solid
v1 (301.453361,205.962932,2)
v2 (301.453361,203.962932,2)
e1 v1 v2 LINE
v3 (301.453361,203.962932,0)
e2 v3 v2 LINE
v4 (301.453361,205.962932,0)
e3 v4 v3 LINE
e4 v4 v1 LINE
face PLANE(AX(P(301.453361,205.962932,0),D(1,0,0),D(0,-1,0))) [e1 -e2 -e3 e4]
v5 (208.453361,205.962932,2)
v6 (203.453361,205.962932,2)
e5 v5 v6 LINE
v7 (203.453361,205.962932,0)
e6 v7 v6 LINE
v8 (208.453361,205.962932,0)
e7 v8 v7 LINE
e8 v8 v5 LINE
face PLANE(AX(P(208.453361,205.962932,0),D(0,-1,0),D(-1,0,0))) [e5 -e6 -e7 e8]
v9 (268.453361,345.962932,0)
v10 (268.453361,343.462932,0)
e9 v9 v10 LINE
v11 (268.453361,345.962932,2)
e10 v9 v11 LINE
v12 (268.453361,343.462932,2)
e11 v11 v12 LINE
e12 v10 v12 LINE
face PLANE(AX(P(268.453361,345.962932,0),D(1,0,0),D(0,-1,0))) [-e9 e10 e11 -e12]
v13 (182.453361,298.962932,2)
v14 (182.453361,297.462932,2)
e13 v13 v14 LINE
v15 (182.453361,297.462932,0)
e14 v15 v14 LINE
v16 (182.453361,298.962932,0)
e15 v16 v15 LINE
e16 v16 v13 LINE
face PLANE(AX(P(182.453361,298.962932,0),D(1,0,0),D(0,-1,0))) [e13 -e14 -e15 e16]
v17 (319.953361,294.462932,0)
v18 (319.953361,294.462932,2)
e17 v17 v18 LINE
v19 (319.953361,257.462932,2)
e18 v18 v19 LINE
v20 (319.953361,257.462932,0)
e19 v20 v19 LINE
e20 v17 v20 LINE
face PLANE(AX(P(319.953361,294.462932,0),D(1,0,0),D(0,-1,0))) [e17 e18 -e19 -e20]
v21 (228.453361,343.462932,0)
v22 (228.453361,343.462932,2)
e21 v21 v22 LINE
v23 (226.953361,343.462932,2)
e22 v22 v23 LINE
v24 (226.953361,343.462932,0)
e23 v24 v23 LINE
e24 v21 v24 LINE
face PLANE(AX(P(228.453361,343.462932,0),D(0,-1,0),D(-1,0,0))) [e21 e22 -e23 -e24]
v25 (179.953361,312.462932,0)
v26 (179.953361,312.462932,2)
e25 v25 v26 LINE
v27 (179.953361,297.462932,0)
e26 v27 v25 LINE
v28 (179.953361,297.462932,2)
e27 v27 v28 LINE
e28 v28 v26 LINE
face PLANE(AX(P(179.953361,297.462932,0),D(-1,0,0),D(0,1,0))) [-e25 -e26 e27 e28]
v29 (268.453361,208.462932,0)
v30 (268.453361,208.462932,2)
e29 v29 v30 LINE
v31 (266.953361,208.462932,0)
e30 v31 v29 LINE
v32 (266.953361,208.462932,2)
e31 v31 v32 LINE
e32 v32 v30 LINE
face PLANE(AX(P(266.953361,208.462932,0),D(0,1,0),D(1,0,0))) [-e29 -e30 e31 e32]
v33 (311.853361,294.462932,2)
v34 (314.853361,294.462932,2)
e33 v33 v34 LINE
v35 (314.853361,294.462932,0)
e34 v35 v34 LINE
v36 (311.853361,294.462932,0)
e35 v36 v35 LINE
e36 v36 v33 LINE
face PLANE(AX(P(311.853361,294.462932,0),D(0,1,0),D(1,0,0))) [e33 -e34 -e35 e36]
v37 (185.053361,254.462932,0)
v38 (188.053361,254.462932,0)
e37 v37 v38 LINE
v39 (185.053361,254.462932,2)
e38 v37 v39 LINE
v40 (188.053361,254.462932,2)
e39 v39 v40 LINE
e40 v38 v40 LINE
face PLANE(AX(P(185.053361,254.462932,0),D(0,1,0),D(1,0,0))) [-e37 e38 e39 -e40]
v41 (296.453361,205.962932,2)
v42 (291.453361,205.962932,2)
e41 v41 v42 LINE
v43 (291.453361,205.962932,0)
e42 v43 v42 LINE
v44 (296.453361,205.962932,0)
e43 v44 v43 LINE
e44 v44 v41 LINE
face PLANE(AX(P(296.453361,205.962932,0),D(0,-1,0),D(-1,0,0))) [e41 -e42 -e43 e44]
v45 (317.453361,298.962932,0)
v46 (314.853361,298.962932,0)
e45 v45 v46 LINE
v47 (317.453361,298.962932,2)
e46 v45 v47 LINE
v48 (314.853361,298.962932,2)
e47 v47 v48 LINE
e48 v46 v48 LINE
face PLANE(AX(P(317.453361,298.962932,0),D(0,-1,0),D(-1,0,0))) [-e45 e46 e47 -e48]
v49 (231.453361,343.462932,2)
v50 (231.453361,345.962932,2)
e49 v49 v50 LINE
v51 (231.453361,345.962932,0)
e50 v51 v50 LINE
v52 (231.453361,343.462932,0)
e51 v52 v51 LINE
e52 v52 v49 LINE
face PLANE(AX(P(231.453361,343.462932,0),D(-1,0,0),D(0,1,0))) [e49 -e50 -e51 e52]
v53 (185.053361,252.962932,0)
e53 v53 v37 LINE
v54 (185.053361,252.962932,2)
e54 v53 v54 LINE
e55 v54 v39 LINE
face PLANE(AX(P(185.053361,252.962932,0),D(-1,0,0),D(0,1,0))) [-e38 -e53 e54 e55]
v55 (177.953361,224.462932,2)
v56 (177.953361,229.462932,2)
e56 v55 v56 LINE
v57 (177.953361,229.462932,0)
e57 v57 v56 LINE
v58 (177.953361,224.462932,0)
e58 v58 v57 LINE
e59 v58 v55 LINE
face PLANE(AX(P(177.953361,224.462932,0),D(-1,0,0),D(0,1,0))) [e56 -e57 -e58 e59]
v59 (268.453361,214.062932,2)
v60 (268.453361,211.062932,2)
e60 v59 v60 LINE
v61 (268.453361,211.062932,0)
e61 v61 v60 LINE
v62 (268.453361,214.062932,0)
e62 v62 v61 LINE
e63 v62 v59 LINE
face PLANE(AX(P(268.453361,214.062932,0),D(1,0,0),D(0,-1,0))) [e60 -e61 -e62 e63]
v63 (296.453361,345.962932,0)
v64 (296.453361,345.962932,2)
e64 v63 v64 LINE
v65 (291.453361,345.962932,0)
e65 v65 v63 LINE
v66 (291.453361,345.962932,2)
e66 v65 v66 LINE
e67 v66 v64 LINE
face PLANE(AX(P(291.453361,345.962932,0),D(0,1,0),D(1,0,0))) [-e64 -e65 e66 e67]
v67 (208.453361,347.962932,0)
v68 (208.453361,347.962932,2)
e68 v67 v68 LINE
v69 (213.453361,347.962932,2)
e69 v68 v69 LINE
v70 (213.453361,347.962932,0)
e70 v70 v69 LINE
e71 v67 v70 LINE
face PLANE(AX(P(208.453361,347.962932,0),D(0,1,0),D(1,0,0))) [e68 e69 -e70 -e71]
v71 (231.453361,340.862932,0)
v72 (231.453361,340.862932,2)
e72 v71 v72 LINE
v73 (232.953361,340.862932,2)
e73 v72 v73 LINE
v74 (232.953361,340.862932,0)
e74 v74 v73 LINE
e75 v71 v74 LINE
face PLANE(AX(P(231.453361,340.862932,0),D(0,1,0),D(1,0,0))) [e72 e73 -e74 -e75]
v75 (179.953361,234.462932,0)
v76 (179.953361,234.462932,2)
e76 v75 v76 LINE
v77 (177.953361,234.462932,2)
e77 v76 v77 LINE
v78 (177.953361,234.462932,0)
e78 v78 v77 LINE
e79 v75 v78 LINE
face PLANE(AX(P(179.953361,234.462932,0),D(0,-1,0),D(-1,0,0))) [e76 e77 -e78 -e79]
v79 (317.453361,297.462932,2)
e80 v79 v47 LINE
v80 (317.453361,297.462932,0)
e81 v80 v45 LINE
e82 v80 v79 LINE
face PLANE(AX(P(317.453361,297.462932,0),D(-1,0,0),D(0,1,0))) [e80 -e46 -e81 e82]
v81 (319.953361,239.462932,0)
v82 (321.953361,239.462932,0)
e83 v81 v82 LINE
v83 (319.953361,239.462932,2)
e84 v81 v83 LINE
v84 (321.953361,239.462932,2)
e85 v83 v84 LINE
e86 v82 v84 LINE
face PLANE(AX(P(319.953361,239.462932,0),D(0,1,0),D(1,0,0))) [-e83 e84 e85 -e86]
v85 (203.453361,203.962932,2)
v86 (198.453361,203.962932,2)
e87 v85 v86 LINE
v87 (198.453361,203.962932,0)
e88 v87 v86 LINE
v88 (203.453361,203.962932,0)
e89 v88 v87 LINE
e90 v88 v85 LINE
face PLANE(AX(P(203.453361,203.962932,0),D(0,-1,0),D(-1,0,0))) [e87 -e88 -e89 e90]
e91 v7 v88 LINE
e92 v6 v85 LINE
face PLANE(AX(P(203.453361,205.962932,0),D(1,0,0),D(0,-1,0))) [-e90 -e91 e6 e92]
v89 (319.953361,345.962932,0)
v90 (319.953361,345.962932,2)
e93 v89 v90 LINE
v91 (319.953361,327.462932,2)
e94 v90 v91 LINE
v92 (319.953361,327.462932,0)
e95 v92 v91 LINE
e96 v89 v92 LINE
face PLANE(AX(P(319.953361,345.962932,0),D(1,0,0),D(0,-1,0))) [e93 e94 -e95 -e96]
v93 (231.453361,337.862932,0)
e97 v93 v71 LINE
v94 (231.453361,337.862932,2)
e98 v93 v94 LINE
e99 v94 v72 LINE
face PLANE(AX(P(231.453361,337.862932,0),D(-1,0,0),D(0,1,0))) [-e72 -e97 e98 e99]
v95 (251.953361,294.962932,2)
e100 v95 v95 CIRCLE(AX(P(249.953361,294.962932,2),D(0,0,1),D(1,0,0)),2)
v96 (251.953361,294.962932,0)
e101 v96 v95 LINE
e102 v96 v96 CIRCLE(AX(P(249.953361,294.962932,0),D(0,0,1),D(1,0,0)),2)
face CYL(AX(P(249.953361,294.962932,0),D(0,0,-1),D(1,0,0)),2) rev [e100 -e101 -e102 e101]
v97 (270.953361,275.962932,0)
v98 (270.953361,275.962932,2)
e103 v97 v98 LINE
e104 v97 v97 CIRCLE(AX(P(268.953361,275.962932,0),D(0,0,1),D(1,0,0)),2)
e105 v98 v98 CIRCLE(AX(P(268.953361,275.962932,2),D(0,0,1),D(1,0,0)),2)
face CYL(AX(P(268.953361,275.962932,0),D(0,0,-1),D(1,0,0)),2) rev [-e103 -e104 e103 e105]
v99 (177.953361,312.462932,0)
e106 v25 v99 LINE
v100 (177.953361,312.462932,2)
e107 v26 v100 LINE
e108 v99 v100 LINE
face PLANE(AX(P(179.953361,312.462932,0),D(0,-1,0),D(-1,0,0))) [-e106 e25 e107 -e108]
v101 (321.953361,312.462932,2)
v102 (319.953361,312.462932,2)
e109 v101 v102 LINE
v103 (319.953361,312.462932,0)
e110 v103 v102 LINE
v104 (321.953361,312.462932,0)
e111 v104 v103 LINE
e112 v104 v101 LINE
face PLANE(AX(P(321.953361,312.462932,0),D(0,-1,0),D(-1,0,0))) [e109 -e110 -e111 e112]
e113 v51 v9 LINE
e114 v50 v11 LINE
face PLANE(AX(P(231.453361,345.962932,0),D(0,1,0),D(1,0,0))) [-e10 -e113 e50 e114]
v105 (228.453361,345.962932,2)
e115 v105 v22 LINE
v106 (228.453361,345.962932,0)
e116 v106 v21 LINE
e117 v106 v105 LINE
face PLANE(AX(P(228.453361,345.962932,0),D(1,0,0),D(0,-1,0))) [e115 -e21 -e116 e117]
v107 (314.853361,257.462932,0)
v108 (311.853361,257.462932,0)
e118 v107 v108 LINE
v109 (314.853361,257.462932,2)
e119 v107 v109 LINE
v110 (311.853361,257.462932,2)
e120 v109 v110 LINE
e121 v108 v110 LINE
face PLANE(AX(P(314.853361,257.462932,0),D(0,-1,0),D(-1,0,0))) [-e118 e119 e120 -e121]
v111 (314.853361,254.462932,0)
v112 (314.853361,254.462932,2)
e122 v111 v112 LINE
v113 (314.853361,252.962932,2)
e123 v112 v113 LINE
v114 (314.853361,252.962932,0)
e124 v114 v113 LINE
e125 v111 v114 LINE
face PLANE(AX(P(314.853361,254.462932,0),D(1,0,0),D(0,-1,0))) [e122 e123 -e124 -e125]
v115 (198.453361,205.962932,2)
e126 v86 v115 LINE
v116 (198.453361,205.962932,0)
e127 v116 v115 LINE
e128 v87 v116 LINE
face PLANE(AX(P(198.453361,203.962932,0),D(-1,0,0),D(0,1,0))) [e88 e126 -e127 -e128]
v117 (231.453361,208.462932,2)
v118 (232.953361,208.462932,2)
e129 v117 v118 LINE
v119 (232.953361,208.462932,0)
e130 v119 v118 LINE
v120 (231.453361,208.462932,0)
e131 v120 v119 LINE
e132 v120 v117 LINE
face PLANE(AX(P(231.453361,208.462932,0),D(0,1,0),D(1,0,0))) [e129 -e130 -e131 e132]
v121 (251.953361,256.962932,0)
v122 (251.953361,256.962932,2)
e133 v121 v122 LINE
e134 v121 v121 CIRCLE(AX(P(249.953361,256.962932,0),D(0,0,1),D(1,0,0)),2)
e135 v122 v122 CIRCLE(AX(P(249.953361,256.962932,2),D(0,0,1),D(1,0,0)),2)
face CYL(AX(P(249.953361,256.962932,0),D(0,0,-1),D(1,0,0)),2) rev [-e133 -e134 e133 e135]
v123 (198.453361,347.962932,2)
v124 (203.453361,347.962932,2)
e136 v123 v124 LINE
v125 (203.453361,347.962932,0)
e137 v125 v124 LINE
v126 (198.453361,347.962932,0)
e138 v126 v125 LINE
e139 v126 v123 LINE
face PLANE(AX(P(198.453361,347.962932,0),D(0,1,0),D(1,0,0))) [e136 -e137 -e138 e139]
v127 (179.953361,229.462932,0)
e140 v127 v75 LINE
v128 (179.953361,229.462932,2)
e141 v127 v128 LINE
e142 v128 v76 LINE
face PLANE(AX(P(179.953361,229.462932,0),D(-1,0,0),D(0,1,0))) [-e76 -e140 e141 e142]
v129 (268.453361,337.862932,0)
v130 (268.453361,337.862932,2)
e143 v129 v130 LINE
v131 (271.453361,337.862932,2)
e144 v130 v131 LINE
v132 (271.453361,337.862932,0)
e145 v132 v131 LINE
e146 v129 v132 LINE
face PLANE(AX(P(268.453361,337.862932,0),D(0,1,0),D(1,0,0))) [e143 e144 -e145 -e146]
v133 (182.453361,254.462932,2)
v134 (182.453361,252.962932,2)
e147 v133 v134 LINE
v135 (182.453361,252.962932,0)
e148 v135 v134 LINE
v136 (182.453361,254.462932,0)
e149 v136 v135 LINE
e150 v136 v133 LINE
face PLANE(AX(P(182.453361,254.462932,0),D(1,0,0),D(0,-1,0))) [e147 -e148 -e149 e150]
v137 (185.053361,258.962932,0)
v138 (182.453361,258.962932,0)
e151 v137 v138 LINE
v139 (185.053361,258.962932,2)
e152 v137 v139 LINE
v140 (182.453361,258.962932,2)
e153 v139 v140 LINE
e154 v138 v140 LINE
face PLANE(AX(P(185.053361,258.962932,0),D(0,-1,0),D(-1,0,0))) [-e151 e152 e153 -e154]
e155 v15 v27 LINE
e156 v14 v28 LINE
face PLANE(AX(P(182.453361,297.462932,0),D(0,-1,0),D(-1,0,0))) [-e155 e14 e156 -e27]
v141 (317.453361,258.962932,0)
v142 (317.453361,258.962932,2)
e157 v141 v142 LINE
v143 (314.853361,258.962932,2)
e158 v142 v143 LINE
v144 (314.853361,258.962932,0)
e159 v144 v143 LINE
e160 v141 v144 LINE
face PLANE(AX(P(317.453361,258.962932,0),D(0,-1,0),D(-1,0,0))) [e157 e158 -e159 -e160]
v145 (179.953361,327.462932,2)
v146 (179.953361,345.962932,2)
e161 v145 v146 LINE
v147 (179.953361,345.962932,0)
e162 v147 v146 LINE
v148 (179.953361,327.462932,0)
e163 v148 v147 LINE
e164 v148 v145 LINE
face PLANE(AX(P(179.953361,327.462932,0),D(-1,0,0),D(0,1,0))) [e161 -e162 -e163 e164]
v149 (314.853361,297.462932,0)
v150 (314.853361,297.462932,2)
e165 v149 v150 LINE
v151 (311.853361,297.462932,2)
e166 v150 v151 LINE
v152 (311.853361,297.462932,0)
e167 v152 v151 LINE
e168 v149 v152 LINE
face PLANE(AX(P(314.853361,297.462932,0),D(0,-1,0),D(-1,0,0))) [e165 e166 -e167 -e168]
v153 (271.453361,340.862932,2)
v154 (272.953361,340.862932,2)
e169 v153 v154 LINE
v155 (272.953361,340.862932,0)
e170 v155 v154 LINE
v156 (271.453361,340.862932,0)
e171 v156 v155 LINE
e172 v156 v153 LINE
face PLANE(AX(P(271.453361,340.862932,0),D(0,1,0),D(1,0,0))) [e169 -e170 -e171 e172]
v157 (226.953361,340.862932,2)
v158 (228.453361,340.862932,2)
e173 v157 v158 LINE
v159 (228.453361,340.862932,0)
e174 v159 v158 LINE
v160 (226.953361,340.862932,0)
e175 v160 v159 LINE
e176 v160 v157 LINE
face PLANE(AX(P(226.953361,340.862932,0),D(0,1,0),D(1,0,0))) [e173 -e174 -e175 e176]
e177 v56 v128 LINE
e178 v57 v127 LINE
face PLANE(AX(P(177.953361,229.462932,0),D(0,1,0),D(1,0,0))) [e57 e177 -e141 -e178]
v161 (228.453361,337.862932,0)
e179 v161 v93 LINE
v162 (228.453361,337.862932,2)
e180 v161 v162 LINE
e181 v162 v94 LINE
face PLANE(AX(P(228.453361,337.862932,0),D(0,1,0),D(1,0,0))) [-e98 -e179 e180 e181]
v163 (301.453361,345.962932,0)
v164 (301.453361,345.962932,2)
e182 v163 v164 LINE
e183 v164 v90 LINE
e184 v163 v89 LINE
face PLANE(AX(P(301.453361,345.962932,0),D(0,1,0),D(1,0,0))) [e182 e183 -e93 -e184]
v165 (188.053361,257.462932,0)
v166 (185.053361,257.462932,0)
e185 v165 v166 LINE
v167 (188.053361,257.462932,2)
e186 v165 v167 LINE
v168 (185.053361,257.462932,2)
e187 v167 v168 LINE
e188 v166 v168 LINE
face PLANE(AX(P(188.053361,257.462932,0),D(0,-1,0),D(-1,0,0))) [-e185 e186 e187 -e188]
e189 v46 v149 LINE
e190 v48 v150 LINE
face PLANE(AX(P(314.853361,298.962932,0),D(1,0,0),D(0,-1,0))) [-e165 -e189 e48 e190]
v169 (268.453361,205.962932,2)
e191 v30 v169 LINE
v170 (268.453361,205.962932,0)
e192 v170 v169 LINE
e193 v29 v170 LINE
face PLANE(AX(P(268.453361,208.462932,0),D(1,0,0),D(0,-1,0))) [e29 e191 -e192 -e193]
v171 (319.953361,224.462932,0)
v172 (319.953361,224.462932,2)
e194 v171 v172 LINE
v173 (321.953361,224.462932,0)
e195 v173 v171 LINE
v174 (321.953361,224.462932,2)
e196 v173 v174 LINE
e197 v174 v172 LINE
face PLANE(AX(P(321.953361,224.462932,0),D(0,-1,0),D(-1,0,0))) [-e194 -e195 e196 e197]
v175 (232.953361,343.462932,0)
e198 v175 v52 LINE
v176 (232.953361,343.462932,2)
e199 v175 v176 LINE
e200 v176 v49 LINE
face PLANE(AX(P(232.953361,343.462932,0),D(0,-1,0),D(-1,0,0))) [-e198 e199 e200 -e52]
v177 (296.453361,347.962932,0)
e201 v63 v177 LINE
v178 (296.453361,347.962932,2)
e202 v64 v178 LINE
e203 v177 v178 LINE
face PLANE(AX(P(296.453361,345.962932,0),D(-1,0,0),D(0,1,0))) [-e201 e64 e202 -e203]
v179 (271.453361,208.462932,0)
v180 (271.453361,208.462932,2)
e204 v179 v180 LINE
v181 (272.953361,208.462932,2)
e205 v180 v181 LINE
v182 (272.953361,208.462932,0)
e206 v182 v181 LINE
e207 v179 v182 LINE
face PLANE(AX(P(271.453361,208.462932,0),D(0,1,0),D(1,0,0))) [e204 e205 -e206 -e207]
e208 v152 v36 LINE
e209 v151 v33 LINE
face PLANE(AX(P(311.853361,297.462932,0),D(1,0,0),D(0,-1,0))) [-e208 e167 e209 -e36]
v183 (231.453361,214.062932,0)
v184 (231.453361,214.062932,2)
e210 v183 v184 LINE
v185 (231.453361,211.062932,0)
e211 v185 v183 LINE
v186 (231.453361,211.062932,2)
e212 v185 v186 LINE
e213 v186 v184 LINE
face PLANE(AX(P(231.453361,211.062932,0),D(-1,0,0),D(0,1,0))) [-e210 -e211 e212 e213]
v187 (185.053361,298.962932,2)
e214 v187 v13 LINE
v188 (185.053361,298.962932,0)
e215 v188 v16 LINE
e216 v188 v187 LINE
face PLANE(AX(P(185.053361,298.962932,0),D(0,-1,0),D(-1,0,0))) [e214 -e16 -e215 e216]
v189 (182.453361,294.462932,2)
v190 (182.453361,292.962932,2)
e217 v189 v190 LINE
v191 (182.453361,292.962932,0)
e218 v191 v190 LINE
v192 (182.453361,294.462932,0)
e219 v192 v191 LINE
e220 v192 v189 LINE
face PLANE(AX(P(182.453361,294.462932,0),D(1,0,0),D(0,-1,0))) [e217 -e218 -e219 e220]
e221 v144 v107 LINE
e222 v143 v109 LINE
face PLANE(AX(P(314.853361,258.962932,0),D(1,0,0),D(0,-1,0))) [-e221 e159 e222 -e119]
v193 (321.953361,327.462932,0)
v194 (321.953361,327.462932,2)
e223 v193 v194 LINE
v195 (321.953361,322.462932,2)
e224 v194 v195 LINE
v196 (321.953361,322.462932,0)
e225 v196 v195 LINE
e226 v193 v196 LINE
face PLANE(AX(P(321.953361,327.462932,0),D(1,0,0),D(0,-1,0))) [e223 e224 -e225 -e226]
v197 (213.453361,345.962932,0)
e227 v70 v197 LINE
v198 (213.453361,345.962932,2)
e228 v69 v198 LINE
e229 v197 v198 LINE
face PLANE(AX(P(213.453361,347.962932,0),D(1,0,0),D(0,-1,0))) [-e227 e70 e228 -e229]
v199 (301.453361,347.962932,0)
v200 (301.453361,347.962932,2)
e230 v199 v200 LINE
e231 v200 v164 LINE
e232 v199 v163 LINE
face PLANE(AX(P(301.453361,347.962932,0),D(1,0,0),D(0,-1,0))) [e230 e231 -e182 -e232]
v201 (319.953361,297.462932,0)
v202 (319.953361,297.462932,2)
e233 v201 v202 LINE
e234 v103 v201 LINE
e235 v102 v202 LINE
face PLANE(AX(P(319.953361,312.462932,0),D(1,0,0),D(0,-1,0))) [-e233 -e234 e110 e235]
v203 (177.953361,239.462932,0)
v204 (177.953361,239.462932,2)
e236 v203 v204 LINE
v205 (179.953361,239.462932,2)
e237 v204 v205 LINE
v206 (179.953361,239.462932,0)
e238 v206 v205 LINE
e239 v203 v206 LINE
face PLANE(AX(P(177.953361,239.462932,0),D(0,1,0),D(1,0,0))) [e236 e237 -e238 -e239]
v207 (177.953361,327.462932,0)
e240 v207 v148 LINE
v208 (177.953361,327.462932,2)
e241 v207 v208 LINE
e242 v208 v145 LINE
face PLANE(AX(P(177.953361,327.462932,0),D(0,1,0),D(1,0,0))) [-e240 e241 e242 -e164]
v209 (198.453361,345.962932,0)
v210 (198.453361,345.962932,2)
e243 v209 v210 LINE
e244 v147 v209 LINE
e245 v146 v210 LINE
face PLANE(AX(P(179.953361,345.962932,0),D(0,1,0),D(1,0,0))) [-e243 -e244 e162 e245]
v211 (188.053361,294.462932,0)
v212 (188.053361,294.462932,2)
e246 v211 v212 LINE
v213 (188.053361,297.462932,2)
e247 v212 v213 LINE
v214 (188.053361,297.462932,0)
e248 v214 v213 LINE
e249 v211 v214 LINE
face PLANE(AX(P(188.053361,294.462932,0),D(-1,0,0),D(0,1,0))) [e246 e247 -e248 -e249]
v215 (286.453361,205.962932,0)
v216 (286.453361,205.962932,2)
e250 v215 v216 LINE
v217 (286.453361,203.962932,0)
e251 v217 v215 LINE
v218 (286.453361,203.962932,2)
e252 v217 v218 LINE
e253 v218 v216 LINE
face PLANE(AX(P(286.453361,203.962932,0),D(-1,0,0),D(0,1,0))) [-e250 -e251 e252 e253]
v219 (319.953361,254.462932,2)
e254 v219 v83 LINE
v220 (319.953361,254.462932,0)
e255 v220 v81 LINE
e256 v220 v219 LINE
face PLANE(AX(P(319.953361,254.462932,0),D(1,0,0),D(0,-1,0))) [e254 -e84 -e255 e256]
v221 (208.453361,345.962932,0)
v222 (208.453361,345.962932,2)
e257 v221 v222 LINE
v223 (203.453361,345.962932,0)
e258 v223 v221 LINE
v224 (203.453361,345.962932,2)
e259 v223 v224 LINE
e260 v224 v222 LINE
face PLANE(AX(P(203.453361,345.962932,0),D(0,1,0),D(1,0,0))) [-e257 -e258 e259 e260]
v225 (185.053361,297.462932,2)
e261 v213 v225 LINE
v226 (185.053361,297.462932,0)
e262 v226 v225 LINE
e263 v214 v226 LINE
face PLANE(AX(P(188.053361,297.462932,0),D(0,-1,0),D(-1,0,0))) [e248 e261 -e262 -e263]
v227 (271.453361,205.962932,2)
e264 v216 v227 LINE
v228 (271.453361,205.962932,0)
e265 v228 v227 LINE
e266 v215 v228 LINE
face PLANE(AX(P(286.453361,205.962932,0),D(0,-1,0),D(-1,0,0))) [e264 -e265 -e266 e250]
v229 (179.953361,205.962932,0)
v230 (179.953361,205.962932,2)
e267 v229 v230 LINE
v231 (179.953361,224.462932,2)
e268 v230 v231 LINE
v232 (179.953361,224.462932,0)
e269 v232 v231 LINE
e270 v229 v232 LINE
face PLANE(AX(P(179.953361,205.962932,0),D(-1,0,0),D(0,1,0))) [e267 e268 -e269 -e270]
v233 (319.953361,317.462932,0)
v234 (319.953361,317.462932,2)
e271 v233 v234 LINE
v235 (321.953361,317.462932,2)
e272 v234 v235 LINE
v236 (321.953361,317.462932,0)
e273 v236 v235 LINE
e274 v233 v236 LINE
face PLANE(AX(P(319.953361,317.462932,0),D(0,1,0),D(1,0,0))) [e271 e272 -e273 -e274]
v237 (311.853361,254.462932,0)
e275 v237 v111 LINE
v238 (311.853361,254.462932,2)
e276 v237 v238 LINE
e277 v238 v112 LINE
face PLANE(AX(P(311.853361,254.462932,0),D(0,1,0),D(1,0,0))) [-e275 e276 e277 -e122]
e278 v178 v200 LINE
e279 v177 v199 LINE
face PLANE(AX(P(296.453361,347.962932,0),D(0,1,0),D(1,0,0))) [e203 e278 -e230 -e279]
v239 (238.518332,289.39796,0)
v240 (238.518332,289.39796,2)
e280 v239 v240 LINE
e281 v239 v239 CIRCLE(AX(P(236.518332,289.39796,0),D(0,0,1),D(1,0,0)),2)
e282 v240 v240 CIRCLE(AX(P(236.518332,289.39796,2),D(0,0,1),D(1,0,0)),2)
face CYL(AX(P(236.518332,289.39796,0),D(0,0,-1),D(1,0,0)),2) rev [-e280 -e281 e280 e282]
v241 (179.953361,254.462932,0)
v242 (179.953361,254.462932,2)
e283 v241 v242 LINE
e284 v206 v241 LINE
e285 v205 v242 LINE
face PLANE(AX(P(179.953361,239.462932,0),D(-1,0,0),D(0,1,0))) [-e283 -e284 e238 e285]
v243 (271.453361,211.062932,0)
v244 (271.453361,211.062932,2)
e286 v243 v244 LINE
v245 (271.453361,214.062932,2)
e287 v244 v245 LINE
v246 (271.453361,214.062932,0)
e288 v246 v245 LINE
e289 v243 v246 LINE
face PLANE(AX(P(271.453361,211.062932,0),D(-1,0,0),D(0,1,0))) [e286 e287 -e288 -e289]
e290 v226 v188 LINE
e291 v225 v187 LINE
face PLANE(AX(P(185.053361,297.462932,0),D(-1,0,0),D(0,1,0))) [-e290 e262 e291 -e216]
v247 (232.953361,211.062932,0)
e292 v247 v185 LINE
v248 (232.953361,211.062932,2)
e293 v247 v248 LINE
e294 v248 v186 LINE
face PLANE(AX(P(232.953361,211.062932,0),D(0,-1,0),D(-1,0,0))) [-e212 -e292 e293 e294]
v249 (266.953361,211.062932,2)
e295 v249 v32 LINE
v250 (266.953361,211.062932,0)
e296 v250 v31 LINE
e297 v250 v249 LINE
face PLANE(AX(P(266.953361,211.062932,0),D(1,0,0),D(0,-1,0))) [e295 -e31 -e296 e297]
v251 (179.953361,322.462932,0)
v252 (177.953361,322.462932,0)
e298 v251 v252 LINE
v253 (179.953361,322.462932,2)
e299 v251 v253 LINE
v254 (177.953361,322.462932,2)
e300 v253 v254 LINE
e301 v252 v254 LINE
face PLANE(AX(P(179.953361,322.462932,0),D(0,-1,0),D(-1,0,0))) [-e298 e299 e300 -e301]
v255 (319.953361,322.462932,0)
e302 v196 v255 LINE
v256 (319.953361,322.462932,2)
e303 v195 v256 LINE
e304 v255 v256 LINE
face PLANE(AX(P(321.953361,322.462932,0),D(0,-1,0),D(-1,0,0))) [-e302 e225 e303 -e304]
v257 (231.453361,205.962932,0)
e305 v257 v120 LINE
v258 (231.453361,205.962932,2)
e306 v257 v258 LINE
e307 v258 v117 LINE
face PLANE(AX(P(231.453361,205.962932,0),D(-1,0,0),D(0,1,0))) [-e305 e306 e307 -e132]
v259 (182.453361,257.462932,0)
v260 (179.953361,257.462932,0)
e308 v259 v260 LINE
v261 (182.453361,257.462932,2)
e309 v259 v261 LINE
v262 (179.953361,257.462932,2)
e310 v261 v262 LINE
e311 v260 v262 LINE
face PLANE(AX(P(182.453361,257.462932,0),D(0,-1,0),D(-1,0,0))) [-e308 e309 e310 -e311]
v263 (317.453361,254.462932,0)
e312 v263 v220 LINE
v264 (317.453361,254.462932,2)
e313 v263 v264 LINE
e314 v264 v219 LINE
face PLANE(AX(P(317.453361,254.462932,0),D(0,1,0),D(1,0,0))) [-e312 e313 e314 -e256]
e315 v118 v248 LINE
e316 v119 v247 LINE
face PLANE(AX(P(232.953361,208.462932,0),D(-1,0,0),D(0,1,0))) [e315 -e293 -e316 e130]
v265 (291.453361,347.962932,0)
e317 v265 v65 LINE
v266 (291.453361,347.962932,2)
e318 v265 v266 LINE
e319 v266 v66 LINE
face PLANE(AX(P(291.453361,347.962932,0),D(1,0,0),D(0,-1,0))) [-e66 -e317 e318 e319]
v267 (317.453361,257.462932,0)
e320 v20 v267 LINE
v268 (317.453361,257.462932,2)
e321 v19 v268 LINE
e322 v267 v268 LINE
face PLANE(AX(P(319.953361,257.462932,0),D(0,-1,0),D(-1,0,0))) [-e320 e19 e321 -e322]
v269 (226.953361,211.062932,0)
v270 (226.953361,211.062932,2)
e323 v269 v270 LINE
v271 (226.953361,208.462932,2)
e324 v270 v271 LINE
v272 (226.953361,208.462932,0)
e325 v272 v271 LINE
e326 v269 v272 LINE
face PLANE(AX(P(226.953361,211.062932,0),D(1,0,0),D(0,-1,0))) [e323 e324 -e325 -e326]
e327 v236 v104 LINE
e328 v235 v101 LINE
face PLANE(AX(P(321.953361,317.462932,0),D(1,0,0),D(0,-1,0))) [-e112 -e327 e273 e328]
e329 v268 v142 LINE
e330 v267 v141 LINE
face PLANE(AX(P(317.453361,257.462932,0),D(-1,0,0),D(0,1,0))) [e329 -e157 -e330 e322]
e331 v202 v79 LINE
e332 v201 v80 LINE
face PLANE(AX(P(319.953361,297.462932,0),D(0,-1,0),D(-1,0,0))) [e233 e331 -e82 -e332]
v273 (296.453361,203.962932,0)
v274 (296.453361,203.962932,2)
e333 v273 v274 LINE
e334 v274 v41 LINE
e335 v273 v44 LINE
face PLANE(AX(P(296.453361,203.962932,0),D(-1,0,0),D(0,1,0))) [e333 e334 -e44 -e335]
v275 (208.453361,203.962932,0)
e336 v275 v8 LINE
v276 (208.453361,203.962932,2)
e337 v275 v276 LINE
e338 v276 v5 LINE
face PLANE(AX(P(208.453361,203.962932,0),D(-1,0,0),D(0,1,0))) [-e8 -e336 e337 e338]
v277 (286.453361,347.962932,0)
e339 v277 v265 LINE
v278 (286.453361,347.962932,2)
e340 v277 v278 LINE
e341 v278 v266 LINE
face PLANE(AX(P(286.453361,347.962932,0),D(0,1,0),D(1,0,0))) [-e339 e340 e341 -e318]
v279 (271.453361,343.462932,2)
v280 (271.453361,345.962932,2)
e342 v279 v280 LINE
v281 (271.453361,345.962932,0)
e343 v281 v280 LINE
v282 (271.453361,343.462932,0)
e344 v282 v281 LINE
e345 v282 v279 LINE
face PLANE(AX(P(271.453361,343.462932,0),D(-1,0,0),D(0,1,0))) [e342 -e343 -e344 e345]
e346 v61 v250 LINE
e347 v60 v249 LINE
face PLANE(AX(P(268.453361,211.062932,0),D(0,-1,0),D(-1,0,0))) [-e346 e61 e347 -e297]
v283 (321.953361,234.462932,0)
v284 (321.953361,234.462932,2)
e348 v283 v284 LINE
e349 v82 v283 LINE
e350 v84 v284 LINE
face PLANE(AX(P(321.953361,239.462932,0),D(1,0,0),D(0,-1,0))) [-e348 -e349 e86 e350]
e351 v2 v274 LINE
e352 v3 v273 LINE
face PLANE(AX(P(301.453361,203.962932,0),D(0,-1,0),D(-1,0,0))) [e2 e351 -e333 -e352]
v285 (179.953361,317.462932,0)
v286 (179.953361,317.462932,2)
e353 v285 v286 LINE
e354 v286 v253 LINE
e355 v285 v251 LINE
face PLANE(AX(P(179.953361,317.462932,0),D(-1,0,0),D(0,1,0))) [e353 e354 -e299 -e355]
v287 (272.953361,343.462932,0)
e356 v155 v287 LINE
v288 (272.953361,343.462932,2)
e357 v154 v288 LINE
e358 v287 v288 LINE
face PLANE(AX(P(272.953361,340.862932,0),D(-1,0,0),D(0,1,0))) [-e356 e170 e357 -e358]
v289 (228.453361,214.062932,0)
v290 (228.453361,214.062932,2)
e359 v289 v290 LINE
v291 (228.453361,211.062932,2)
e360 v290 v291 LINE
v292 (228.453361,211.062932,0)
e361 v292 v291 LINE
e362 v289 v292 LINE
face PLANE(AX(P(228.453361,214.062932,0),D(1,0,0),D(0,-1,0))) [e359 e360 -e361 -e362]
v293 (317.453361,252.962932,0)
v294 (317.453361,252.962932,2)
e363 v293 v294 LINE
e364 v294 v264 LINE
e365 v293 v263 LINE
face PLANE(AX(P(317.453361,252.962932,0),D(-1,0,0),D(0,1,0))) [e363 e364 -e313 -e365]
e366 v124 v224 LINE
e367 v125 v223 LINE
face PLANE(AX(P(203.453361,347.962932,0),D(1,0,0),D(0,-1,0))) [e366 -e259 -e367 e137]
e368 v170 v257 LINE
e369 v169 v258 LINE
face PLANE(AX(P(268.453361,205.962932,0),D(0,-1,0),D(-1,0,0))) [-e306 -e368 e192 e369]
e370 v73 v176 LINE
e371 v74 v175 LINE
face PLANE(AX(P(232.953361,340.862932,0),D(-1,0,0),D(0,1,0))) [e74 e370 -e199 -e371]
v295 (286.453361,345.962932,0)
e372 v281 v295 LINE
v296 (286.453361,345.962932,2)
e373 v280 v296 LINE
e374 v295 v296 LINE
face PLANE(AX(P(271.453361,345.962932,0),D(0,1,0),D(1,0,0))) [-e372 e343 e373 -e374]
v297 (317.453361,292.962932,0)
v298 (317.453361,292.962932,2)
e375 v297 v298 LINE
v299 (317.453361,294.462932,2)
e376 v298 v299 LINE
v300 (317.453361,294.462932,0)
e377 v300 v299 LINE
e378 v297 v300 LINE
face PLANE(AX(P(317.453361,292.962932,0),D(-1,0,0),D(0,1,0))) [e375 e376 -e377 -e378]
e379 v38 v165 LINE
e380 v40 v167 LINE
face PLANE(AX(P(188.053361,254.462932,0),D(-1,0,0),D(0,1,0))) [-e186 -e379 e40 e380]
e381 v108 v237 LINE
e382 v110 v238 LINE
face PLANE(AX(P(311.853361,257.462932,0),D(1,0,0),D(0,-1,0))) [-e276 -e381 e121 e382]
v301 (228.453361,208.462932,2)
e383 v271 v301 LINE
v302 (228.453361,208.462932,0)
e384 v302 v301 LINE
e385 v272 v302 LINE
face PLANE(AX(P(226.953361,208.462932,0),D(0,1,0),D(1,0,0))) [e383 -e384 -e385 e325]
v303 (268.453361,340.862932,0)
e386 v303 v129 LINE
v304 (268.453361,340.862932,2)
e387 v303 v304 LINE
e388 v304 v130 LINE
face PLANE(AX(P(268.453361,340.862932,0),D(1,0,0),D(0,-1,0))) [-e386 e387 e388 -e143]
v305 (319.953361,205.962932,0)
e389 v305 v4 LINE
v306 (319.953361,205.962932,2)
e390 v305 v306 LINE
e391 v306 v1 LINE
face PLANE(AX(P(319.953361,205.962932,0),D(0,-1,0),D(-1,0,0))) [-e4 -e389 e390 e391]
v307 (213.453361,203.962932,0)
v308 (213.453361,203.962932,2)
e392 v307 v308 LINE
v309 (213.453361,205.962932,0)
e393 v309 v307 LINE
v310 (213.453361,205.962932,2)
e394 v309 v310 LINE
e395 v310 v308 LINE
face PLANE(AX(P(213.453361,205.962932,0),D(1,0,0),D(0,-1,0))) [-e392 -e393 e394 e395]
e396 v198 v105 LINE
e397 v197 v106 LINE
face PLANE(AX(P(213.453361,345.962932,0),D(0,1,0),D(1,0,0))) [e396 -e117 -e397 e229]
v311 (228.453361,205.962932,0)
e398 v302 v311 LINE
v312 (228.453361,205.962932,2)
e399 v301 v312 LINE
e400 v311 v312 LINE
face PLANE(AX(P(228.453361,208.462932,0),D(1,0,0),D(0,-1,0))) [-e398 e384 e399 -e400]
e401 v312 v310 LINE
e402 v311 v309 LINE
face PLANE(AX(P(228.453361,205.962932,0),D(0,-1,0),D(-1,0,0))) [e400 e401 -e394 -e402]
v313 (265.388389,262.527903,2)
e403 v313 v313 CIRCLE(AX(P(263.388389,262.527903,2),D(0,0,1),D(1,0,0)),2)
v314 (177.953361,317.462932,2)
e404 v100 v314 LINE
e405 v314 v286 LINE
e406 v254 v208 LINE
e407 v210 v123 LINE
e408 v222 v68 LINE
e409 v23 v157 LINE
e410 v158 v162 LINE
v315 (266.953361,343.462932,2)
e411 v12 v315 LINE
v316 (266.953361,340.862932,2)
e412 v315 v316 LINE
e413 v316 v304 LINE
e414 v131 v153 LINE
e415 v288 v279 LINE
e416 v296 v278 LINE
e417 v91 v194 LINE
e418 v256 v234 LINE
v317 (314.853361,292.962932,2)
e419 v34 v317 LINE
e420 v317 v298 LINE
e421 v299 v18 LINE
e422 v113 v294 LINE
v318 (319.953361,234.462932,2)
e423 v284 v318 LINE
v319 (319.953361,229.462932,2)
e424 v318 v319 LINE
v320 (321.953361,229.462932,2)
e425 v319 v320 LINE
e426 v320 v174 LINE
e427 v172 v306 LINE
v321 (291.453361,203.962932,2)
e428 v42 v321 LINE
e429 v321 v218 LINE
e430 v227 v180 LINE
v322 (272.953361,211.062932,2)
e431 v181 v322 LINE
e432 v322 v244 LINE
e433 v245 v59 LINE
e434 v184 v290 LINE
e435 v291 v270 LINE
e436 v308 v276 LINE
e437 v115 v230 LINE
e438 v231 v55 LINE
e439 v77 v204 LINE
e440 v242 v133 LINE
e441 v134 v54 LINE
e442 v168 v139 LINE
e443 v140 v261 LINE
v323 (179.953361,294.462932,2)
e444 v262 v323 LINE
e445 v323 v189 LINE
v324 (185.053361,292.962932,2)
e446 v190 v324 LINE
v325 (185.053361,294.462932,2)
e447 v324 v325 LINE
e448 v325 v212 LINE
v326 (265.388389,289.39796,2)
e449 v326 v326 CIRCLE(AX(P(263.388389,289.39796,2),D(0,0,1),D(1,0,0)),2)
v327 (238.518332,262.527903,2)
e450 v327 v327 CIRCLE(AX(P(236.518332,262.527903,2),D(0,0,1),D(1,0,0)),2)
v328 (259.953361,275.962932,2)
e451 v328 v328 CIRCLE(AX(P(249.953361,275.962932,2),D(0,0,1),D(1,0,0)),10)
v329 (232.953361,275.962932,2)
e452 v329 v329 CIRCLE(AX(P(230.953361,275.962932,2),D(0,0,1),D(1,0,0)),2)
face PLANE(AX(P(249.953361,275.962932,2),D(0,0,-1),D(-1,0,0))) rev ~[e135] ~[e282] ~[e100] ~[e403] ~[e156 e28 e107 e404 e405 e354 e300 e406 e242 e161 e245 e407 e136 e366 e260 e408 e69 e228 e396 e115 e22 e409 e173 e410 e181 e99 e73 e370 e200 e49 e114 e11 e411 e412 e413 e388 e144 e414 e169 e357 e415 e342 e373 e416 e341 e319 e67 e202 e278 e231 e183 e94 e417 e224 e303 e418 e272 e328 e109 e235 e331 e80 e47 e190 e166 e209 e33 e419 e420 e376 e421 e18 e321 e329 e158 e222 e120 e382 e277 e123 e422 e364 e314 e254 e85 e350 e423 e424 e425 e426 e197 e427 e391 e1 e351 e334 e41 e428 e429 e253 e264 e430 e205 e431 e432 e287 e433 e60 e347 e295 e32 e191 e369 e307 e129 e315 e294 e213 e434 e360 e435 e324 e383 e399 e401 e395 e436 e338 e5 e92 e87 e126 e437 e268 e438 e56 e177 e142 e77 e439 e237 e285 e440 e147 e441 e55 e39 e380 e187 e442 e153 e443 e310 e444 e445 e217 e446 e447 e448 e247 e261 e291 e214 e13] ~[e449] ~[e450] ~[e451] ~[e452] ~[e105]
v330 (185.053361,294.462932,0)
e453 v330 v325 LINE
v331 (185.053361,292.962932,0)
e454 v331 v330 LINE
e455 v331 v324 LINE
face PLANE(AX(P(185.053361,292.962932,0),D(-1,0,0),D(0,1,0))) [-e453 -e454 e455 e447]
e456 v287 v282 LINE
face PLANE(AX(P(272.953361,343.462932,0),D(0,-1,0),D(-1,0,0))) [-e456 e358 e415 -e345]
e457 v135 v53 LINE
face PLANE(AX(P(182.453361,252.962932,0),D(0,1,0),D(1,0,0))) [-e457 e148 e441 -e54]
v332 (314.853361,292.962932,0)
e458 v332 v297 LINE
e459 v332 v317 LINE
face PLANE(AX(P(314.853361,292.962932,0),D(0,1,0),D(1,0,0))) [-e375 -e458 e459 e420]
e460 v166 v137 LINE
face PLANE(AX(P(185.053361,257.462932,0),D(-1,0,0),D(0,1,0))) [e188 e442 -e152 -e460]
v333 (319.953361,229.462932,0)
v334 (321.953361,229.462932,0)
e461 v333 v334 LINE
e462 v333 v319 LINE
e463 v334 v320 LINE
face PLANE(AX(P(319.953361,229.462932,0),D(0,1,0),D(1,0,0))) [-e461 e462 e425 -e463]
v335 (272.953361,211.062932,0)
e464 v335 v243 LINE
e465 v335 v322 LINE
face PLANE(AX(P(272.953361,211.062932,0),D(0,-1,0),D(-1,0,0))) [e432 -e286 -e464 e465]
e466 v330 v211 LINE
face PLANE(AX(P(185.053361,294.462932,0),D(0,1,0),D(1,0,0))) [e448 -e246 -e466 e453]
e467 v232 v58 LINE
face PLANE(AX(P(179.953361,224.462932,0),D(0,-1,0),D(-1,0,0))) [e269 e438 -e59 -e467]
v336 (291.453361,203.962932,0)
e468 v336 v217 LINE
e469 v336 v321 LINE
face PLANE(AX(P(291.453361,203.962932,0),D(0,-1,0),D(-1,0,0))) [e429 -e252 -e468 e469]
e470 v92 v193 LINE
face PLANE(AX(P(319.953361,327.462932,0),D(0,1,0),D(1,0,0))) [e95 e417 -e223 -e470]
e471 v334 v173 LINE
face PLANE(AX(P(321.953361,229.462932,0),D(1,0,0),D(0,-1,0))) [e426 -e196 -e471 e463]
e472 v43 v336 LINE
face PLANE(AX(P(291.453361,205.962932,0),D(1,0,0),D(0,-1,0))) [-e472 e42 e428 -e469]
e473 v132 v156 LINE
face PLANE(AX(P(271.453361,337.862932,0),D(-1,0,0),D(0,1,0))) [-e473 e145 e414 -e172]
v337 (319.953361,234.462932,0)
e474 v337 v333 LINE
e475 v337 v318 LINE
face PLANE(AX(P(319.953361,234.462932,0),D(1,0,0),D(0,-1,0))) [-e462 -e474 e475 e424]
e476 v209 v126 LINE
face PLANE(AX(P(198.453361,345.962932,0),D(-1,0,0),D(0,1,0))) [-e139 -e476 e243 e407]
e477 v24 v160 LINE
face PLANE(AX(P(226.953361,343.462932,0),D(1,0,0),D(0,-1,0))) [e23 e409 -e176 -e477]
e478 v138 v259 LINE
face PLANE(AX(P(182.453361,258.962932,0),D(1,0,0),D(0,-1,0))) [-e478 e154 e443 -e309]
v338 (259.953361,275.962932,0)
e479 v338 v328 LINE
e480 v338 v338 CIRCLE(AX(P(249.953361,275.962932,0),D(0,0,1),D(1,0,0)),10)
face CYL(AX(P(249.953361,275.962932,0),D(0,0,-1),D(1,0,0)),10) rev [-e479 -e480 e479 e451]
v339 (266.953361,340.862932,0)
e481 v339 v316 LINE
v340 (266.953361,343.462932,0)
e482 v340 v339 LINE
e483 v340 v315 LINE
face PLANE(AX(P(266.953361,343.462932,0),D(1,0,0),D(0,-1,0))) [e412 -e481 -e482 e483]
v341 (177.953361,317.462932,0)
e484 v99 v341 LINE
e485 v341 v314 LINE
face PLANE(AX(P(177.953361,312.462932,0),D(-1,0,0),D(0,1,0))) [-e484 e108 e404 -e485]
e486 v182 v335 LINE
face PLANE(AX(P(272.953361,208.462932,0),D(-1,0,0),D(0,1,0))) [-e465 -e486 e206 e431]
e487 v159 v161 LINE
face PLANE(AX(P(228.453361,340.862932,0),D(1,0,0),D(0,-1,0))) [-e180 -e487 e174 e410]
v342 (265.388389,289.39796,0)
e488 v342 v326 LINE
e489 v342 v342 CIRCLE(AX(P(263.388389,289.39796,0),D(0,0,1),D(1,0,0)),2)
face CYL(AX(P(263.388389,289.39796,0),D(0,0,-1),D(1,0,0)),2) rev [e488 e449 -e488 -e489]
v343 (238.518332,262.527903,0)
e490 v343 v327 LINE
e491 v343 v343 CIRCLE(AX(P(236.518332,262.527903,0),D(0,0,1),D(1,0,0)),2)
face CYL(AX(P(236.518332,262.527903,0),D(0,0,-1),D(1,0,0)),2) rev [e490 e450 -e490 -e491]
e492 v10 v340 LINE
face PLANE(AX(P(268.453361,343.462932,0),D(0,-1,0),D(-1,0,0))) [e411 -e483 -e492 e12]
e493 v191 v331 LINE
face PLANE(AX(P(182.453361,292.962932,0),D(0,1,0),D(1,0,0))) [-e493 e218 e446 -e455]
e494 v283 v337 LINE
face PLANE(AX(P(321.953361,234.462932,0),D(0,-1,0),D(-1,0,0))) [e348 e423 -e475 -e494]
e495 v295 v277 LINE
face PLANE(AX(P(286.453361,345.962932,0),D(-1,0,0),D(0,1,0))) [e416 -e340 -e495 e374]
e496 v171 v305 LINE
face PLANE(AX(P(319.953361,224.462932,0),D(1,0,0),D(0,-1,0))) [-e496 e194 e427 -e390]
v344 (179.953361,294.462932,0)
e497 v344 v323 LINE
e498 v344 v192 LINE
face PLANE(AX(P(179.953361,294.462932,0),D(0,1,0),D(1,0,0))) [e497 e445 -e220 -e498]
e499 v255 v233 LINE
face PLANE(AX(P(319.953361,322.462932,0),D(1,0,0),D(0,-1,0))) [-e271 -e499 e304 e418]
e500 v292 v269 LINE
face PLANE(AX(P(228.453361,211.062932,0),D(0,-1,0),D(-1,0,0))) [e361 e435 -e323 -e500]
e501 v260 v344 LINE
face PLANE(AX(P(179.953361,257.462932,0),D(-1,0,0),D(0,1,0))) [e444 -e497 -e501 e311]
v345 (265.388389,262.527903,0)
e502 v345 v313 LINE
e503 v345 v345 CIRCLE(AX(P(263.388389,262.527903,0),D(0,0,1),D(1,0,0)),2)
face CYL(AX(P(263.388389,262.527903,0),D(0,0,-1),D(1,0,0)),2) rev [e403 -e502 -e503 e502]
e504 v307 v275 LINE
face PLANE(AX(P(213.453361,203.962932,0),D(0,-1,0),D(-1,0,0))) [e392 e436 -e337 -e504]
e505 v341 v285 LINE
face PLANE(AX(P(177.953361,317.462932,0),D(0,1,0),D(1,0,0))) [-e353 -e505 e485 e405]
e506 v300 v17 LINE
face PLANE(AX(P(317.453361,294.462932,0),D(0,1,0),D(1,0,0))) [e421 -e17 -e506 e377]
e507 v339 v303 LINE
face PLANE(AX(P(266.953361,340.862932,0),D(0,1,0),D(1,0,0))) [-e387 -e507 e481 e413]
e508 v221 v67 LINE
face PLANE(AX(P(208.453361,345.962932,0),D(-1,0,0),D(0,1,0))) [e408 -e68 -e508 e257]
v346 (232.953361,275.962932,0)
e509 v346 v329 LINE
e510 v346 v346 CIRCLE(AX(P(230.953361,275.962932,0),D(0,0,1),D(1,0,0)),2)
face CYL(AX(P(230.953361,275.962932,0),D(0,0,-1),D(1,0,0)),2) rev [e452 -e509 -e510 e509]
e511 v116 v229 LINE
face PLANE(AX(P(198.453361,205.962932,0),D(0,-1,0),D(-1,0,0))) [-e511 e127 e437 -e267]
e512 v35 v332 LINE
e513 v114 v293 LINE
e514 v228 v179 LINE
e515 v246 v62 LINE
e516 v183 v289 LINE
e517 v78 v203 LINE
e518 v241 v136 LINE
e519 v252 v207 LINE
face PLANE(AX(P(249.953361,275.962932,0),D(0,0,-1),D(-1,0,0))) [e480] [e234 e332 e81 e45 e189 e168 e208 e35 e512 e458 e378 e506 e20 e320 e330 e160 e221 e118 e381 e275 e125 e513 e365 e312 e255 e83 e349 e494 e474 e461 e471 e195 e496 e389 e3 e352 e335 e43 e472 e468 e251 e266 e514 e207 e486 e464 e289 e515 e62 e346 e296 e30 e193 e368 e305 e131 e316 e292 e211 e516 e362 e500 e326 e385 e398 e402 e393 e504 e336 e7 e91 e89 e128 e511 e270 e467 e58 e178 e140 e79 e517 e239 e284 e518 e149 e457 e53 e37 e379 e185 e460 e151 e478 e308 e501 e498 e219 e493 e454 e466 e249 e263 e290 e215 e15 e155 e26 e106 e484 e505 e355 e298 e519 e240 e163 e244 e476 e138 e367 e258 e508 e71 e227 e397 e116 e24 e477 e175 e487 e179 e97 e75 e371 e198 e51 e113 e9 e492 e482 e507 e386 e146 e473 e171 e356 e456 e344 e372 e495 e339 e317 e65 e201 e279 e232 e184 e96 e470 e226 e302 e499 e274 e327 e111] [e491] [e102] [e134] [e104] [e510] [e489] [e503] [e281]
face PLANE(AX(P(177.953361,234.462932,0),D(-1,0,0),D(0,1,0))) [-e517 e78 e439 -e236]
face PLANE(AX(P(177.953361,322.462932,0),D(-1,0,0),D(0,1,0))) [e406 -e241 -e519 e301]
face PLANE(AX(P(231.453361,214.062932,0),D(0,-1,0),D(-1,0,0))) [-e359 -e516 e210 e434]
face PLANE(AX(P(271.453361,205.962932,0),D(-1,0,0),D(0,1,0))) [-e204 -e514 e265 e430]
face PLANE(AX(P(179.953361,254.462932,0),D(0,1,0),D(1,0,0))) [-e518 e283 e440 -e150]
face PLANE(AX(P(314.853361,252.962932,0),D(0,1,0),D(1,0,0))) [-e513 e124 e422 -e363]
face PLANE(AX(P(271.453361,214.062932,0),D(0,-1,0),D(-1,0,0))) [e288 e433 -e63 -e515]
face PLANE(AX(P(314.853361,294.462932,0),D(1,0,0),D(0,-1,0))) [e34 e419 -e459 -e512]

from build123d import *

# Parameters (mm, degrees)
SKETCH_1_R      = 10
SKETCH_1_R_2    = 2
EXTRUDE_1_DEPTH = 2


with BuildPart() as part:
    # 草图1 → 凸台-拉伸1 (new body)
    with BuildSketch(Plane.XY):
        Polygon((317.453360513, 257.462931603), (317.453360513, 258.962931603), (314.853360513, 258.962931603), (314.853360513, 257.462931603), (311.853360513, 257.462931603), (311.853360513, 254.462931603), (314.853360513, 254.462931603), (314.853360513, 252.962931603), (317.453360513, 252.962931603), (317.453360513, 254.462931603), (319.953360513, 254.462931603), (319.953360513, 239.462931603), (321.953360513, 239.462931603), (321.953360513, 234.462931603), (319.953360513, 234.462931603), (319.953360513, 229.462931603), (321.953360513, 229.462931603), (321.953360513, 224.462931603), (319.953360513, 224.462931603), (319.953360513, 205.962931603), (301.453360513, 205.962931603), (301.453360513, 203.962931603), (296.453360513, 203.962931603), (296.453360513, 205.962931603), (291.453360513, 205.962931603), (291.453360513, 203.962931603), (286.453360513, 203.962931603), (286.453360513, 205.962931603), (271.453360513, 205.962931603), (271.453360513, 208.462931603), (272.953360513, 208.462931603), (272.953360513, 211.062931603), (271.453360513, 211.062931603), (271.453360513, 214.062931603), (268.453360513, 214.062931603), (268.453360513, 211.062931603), (266.953360513, 211.062931603), (266.953360513, 208.462931603), (268.453360513, 208.462931603), (268.453360513, 205.962931603), (231.453360513, 205.962931603), (231.453360513, 208.462931603), (232.953360513, 208.462931603), (232.953360513, 211.062931603), (231.453360513, 211.062931603), (231.453360513, 214.062931603), (228.453360513, 214.062931603), (228.453360513, 211.062931603), (226.953360513, 211.062931603), (226.953360513, 208.462931603), (228.453360513, 208.462931603), (228.453360513, 205.962931603), (213.453360513, 205.962931603), (213.453360513, 203.962931603), (208.453360513, 203.962931603), (208.453360513, 205.962931603), (203.453360513, 205.962931603), (203.453360513, 203.962931603), (198.453360513, 203.962931603), (198.453360513, 205.962931603), (179.953360513, 205.962931603), (179.953360513, 224.462931603), (177.953360513, 224.462931603), (177.953360513, 229.462931603), (179.953360513, 229.462931603), (179.953360513, 234.462931603), (177.953360513, 234.462931603), (177.953360513, 239.462931603), (179.953360513, 239.462931603), (179.953360513, 254.462931603), (182.453360513, 254.462931603), (182.453360513, 252.962931603), (185.053360513, 252.962931603), (185.053360513, 254.462931603), (188.053360513, 254.462931603), (188.053360513, 257.462931603), (185.053360513, 257.462931603), (185.053360513, 258.962931603), (182.453360513, 258.962931603), (182.453360513, 257.462931603), (179.953360513, 257.462931603), (179.953360513, 294.462931603), (182.453360513, 294.462931603), (182.453360513, 292.962931603), (185.053360513, 292.962931603), (185.053360513, 294.462931603), (188.053360513, 294.462931603), (188.053360513, 297.462931603), (185.053360513, 297.462931603), (185.053360513, 298.962931603), (182.453360513, 298.962931603), (182.453360513, 297.462931603), (179.953360513, 297.462931603), (179.953360513, 312.462931603), (177.953360513, 312.462931603), (177.953360513, 317.462931603), (179.953360513, 317.462931603), (179.953360513, 322.462931603), (177.953360513, 322.462931603), (177.953360513, 327.462931603), (179.953360513, 327.462931603), (179.953360513, 345.962931603), (198.453360513, 345.962931603), (198.453360513, 347.962931603), (203.453360513, 347.962931603), (203.453360513, 345.962931603), (208.453360513, 345.962931603), (208.453360513, 347.962931603), (213.453360513, 347.962931603), (213.453360513, 345.962931603), (228.453360513, 345.962931603), (228.453360513, 343.462931603), (226.953360513, 343.462931603), (226.953360513, 340.862931603), (228.453360513, 340.862931603), (228.453360513, 337.862931603), (231.453360513, 337.862931603), (231.453360513, 340.862931603), (232.953360513, 340.862931603), (232.953360513, 343.462931603), (231.453360513, 343.462931603), (231.453360513, 345.962931603), (268.453360513, 345.962931603), (268.453360513, 343.462931603), (266.953360513, 343.462931603), (266.953360513, 340.862931603), (268.453360513, 340.862931603), (268.453360513, 337.862931603), (271.453360513, 337.862931603), (271.453360513, 340.862931603), (272.953360513, 340.862931603), (272.953360513, 343.462931603), (271.453360513, 343.462931603), (271.453360513, 345.962931603), (286.453360513, 345.962931603), (286.453360513, 347.962931603), (291.453360513, 347.962931603), (291.453360513, 345.962931603), (296.453360513, 345.962931603), (296.453360513, 347.962931603), (301.453360513, 347.962931603), (301.453360513, 345.962931603), (319.953360513, 345.962931603), (319.953360513, 327.462931603), (321.953360513, 327.462931603), (321.953360513, 322.462931603), (319.953360513, 322.462931603), (319.953360513, 317.462931603), (321.953360513, 317.462931603), (321.953360513, 312.462931603), (319.953360513, 312.462931603), (319.953360513, 297.462931603), (317.453360513, 297.462931603), (317.453360513, 298.962931603), (314.853360513, 298.962931603), (314.853360513, 297.462931603), (311.853360513, 297.462931603), (311.853360513, 294.462931603), (314.853360513, 294.462931603), (314.853360513, 292.962931603), (317.453360513, 292.962931603), (317.453360513, 294.462931603), (319.953360513, 294.462931603), (319.953360513, 257.462931603), align=None)
        with Locations((249.953360513, 275.962931603)):
            Circle(SKETCH_1_R, mode=Mode.SUBTRACT)
        with Locations((230.953360513, 275.962931603)):
            Circle(SKETCH_1_R_2, mode=Mode.SUBTRACT)
        with Locations((236.518331671, 289.397960445)):
            Circle(SKETCH_1_R_2, mode=Mode.SUBTRACT)
        with Locations((249.953360513, 294.962931603)):
            Circle(SKETCH_1_R_2, mode=Mode.SUBTRACT)
        with Locations((263.388389356, 289.397960445)):
            Circle(SKETCH_1_R_2, mode=Mode.SUBTRACT)
        with Locations((268.953360513, 275.962931603)):
            Circle(SKETCH_1_R_2, mode=Mode.SUBTRACT)
        with Locations((263.388389356, 262.52790276)):
            Circle(SKETCH_1_R_2, mode=Mode.SUBTRACT)
        with Locations((249.953360513, 256.962931603)):
            Circle(SKETCH_1_R_2, mode=Mode.SUBTRACT)
        with Locations((236.518331671, 262.52790276)):
            Circle(SKETCH_1_R_2, mode=Mode.SUBTRACT)
    extrude(amount=EXTRUDE_1_DEPTH)


solid = part.part
